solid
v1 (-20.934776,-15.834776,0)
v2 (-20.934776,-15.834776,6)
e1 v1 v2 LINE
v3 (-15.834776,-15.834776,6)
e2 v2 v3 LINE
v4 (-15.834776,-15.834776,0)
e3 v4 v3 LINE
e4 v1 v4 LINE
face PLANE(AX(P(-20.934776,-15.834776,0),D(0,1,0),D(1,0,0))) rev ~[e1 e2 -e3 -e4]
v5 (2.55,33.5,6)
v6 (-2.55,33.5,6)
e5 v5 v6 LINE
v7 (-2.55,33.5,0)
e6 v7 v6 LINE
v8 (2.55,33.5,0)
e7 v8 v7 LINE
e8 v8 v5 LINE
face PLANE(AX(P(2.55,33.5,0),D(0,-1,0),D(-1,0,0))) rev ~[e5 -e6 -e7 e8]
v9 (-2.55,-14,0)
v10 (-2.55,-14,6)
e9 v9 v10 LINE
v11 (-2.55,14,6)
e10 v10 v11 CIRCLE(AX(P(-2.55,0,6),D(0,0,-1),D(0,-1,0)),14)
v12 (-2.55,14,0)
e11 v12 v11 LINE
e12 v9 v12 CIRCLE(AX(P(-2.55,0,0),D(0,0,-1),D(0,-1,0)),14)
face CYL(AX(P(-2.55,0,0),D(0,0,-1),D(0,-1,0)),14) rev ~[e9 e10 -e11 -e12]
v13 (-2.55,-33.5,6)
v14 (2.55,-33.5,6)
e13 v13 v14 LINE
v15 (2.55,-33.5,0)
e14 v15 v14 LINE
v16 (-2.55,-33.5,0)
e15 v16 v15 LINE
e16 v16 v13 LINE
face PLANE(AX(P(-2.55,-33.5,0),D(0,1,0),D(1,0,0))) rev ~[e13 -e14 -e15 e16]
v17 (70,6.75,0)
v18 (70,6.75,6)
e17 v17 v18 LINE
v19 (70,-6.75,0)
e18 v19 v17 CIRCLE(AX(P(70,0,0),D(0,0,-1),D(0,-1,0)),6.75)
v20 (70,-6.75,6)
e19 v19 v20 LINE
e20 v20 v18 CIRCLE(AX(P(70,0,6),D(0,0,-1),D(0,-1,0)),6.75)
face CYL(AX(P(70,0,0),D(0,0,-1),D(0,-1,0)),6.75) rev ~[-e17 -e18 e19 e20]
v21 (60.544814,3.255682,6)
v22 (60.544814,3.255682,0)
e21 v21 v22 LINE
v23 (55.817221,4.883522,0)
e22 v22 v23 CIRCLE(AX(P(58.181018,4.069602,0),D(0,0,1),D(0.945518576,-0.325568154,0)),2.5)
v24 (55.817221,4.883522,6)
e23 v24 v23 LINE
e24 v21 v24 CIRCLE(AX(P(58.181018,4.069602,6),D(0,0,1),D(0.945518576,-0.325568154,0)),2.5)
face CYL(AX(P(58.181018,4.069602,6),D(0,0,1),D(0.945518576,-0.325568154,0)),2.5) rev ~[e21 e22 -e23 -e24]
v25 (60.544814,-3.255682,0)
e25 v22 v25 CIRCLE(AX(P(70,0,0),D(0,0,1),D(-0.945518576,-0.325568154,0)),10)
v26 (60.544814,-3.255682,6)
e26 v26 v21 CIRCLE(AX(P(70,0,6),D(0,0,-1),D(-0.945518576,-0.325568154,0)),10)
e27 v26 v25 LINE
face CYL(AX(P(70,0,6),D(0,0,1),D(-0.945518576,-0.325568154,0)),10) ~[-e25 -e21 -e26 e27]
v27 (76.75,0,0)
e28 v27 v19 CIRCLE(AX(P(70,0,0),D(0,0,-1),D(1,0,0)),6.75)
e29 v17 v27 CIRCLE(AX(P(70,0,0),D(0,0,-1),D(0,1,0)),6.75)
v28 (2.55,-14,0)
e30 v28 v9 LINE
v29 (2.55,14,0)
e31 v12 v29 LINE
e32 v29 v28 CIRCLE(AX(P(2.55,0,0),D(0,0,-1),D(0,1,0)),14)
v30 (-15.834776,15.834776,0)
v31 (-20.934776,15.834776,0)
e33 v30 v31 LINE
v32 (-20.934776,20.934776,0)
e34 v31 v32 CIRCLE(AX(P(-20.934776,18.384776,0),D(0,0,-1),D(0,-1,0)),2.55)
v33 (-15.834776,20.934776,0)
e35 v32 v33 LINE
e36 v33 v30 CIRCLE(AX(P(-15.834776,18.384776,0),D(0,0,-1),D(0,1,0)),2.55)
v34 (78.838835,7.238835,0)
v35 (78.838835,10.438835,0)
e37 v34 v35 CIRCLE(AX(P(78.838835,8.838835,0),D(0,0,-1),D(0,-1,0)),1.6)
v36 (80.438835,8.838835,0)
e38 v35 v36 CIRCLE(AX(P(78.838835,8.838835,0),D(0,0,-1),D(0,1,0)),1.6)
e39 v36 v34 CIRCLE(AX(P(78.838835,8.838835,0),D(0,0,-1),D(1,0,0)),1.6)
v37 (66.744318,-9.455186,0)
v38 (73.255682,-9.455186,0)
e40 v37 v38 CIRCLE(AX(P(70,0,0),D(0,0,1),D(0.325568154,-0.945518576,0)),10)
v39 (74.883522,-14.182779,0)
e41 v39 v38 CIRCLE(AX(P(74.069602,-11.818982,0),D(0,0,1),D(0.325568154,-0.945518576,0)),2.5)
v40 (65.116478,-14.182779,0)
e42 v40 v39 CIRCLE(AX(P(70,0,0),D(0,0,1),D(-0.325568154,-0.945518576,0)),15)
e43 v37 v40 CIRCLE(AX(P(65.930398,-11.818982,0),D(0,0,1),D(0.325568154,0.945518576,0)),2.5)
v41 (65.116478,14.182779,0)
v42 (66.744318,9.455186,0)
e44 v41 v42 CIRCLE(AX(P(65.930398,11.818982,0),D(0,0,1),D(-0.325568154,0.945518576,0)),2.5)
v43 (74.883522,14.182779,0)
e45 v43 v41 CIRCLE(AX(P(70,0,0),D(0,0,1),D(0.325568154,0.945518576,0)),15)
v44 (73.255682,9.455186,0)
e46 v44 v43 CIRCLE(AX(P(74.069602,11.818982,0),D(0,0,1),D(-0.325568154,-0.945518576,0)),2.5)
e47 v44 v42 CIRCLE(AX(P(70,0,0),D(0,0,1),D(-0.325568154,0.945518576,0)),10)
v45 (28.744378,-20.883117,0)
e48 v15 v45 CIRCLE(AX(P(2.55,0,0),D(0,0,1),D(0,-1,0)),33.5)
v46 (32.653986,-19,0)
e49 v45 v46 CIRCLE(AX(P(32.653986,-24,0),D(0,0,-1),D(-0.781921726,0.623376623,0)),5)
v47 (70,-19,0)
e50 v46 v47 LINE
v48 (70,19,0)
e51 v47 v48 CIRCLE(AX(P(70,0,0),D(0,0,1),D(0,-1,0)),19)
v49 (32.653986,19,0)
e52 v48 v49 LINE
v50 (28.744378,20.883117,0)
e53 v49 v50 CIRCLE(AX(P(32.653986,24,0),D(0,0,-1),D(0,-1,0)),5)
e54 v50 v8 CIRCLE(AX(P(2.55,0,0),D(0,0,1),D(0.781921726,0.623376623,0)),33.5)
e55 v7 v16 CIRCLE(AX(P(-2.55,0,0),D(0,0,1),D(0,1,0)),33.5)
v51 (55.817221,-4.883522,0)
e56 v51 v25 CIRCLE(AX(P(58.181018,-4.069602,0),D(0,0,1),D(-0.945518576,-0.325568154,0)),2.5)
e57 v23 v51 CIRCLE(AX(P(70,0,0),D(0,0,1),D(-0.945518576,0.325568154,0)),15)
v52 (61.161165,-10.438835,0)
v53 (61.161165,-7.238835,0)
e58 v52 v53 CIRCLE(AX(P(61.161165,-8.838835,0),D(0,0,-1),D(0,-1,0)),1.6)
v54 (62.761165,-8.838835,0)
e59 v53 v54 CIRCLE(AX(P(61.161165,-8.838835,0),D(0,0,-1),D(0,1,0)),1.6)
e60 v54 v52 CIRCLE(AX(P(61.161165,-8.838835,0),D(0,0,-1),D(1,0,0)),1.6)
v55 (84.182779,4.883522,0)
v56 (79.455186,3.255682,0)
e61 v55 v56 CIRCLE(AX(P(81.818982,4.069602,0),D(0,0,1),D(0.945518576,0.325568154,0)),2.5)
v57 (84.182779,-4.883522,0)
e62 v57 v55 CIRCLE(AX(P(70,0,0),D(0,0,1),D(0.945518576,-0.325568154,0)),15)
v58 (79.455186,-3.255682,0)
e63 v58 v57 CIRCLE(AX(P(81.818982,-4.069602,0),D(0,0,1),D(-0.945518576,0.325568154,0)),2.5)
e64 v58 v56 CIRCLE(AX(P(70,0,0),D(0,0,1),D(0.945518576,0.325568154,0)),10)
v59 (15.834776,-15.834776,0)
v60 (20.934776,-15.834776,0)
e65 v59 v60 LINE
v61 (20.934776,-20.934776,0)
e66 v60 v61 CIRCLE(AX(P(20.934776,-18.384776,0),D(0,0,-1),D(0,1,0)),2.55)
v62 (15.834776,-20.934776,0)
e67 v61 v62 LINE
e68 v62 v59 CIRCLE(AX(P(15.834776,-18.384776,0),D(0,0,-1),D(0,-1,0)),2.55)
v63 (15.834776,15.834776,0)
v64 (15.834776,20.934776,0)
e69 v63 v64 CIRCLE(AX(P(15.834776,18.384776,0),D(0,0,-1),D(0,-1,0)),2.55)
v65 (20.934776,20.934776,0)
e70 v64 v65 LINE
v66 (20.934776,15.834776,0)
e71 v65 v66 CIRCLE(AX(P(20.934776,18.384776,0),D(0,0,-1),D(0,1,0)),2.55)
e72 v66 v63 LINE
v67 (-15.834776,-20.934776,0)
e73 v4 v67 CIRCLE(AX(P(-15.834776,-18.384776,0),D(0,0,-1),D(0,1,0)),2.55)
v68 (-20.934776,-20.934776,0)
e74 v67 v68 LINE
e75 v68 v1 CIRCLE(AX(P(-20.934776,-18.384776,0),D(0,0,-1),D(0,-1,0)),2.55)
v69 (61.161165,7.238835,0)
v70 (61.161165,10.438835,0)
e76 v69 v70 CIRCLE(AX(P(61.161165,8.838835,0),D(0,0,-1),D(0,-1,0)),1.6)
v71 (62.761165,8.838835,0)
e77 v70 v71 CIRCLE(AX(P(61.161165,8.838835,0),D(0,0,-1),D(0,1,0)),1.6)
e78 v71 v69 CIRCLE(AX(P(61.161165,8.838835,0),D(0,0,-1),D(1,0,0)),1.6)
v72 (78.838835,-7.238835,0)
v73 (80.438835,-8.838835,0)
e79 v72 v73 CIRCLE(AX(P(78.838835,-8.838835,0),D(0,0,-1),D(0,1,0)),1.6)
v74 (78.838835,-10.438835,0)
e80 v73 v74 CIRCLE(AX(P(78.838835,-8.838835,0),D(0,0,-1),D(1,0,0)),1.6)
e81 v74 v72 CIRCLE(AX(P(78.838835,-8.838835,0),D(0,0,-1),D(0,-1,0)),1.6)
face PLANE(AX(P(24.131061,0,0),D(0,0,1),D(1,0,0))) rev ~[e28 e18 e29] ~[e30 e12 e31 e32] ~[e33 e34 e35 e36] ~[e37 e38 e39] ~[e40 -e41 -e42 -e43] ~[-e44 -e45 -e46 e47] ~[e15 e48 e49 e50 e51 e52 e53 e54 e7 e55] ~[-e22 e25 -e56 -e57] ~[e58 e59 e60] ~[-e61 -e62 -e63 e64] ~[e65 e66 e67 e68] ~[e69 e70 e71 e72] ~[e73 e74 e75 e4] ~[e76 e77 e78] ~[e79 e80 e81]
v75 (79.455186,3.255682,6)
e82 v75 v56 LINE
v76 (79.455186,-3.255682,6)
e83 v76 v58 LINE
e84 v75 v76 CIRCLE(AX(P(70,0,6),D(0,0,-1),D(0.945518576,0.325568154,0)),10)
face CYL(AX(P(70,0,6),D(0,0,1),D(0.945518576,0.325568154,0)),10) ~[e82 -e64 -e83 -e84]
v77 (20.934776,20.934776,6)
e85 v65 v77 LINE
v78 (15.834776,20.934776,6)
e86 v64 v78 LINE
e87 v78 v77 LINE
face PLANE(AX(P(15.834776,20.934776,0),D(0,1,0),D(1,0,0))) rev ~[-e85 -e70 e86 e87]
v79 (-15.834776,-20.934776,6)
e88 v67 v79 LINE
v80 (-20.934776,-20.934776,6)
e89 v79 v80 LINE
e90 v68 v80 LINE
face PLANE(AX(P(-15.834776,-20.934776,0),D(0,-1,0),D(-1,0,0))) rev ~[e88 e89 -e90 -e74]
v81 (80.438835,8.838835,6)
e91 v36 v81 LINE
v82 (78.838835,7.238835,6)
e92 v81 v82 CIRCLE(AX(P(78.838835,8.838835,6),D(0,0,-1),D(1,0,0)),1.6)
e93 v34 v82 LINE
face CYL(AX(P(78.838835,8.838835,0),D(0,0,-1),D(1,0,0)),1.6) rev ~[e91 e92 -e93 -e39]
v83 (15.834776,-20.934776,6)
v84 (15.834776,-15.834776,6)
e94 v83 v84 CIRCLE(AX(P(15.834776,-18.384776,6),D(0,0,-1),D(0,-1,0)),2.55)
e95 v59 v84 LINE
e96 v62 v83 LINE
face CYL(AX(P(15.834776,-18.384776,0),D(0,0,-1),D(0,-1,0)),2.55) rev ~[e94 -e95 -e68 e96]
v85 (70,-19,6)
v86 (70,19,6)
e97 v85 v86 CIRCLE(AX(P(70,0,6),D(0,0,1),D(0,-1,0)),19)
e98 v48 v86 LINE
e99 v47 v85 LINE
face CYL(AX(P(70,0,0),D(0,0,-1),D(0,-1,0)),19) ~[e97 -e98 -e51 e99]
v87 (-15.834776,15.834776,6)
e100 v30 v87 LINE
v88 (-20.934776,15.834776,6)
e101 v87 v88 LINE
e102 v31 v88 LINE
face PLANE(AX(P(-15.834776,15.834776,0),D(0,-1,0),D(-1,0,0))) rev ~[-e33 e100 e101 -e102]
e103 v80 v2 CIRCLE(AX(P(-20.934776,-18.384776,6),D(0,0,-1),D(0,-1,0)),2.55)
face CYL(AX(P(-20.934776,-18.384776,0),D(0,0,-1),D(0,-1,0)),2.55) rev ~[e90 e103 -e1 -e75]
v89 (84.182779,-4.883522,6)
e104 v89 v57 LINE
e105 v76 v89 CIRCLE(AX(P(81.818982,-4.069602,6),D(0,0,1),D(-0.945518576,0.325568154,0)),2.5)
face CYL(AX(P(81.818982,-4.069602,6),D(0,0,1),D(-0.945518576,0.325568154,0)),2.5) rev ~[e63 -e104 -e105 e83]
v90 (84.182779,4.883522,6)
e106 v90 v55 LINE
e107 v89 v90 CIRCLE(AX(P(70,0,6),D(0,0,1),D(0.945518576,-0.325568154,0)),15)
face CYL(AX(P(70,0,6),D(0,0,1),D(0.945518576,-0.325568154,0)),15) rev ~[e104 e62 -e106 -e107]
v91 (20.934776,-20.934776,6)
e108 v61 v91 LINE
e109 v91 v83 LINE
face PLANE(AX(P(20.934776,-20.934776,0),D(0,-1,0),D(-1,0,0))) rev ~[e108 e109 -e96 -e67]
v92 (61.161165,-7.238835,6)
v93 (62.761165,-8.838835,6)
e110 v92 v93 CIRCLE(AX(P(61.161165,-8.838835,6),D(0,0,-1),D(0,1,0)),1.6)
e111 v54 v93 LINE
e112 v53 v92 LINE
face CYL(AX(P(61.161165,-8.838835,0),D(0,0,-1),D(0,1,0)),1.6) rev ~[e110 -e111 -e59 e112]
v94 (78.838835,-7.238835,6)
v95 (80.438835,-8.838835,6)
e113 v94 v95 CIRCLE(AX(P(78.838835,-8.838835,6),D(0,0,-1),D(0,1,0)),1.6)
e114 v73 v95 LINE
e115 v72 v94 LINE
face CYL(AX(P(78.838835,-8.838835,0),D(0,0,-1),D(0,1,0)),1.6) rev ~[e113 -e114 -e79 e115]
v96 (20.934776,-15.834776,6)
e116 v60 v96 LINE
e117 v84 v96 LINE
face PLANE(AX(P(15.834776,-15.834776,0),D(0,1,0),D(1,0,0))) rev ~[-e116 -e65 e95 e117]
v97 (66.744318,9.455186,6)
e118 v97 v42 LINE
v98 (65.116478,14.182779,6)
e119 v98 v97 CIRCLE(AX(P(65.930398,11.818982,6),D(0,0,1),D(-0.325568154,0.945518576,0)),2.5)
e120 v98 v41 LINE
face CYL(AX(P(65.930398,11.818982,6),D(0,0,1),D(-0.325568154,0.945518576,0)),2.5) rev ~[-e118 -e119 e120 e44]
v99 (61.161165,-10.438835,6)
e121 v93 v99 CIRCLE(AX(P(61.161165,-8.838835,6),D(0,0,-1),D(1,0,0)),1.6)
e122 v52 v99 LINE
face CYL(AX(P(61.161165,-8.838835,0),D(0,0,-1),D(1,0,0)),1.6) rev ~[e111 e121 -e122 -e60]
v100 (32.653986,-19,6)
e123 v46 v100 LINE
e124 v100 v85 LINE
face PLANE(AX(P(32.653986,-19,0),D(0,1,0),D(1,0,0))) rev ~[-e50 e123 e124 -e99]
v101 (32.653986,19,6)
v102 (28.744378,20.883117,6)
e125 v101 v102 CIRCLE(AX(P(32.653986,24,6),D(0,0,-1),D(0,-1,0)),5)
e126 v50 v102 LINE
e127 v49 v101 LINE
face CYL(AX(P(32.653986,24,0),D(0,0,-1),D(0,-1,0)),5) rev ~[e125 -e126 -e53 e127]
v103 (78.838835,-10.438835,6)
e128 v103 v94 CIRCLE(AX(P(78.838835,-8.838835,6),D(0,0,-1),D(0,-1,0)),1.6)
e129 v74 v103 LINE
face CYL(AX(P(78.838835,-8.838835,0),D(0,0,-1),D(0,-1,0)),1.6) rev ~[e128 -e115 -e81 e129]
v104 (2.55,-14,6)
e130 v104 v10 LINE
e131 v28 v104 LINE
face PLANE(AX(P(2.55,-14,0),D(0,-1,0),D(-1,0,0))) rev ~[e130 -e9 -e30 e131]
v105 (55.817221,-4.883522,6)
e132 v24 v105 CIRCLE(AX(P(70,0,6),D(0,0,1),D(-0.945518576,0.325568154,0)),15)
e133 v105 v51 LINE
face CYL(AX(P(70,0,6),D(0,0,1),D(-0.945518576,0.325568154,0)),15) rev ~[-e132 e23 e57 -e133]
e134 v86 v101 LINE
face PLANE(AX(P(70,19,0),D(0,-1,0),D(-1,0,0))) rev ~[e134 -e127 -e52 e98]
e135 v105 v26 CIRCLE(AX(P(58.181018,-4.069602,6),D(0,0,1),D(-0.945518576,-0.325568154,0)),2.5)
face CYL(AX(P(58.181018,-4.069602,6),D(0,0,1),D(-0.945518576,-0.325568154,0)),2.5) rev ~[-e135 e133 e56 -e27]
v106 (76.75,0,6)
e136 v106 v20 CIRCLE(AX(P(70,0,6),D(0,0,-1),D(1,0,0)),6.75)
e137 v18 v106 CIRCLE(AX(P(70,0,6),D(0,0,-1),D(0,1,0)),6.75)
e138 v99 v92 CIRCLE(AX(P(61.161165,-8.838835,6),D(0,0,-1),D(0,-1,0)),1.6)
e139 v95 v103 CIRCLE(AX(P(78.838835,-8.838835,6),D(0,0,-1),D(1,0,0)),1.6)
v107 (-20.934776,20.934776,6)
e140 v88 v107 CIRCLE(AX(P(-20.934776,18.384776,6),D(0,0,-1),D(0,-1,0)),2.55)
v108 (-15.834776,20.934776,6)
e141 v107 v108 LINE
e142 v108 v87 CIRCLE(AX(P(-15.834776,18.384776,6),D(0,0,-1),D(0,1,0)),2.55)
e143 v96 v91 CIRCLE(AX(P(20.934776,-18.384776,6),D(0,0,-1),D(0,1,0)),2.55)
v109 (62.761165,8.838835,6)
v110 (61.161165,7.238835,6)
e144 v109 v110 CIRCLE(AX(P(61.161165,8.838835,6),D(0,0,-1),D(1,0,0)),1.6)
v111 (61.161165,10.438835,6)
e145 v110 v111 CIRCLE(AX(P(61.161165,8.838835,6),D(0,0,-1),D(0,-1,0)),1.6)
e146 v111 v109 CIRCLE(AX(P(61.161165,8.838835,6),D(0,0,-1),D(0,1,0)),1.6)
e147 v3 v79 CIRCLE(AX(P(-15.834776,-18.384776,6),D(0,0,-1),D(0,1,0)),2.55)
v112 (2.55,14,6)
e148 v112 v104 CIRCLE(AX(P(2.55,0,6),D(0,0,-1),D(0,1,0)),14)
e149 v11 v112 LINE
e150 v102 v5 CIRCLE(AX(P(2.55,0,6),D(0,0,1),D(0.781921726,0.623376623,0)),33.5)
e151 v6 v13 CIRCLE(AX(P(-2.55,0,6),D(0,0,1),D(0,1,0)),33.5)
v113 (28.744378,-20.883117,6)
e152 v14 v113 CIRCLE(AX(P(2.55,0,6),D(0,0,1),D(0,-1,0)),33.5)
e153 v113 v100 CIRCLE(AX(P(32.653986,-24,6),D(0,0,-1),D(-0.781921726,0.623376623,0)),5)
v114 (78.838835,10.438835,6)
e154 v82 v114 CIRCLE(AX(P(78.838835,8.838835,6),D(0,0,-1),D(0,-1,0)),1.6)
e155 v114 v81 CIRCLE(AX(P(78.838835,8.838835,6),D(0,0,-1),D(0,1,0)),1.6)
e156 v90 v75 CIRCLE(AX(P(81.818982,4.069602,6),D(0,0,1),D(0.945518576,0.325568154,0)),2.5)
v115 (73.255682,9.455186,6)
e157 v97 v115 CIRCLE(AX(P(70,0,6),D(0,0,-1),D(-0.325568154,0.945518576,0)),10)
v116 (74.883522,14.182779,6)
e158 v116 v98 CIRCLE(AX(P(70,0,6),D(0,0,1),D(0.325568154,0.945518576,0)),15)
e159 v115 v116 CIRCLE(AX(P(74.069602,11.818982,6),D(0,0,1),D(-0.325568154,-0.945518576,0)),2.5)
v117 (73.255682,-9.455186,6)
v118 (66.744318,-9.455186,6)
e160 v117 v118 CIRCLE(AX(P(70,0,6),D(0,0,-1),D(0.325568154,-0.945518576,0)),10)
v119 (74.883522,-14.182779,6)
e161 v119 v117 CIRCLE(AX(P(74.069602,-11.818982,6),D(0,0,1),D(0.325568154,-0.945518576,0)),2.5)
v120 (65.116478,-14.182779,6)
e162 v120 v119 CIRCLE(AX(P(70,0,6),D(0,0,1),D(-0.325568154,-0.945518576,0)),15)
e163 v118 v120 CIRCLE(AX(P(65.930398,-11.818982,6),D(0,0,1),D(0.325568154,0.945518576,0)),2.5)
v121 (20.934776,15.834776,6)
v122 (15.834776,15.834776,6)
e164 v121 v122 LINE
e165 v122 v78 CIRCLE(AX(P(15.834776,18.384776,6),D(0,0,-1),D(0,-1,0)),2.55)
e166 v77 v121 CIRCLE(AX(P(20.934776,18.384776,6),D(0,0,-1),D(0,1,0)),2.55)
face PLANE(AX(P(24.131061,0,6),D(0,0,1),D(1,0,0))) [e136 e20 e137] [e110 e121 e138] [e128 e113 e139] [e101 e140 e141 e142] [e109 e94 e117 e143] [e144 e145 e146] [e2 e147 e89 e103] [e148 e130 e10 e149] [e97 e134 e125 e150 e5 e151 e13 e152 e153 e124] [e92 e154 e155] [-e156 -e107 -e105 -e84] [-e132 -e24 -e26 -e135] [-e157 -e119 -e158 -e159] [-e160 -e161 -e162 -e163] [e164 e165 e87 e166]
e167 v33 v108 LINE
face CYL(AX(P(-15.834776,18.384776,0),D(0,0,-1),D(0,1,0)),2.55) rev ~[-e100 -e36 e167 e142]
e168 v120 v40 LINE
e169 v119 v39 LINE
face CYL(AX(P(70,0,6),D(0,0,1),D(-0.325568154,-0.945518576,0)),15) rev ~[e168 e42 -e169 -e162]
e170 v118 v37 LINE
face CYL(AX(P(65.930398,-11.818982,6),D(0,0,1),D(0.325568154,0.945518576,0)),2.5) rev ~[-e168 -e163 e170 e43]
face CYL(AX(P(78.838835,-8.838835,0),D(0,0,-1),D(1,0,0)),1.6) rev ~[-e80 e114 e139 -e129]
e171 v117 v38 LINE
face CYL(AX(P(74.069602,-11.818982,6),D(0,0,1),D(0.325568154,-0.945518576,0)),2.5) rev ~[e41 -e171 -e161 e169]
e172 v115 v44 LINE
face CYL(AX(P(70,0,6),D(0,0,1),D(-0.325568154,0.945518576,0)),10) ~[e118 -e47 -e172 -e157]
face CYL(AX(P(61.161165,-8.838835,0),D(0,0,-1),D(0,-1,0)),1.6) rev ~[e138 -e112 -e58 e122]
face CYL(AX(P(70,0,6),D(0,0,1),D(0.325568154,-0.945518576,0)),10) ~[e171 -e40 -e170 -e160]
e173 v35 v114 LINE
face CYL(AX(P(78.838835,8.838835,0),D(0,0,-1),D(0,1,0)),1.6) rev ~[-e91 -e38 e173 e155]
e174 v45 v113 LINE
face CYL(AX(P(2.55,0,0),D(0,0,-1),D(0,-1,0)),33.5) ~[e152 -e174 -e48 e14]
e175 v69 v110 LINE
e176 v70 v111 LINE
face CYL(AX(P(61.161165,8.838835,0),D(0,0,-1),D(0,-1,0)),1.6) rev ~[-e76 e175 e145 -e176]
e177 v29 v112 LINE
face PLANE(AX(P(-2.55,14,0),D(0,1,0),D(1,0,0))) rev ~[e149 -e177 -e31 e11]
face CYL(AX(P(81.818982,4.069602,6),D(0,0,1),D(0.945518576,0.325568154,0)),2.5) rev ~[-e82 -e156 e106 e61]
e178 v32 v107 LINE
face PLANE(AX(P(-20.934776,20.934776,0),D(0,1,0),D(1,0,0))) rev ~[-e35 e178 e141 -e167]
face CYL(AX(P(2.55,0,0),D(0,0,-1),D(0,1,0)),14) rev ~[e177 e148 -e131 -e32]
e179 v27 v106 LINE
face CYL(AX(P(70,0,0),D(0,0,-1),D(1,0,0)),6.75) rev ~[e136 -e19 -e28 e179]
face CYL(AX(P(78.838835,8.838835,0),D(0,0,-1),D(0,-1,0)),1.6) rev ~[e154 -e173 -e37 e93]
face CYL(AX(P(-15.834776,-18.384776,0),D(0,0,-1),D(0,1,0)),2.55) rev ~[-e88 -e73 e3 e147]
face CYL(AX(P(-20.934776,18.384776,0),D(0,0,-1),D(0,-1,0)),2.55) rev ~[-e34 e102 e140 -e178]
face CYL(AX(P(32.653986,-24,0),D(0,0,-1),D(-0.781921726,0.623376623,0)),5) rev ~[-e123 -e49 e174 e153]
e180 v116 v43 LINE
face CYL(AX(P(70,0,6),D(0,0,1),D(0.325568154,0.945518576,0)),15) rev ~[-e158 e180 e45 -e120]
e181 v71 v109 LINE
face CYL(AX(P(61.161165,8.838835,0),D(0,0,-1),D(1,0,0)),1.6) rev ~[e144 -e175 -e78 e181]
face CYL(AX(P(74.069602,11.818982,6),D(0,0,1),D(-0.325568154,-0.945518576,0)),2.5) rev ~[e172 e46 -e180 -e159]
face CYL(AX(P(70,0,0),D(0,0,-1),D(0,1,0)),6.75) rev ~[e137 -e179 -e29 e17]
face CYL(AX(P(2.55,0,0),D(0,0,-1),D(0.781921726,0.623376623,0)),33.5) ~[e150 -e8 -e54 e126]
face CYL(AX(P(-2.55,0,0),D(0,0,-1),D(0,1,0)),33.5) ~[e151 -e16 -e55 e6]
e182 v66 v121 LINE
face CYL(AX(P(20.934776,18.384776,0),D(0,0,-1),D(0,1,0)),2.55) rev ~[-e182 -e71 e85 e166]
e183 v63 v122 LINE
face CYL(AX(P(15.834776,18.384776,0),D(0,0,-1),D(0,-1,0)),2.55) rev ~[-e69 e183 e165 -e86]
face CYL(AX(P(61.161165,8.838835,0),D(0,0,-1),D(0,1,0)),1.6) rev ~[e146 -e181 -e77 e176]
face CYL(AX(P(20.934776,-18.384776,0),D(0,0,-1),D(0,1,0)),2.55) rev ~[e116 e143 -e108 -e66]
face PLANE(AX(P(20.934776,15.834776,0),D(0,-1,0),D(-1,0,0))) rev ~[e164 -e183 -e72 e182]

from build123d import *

# Parameters (mm, degrees)
F1_DEPTH = 6
F3_DEPTH = 25


with BuildPart() as f1:
    # F0 (on Top) → F1 (new body)
    with BuildSketch(Plane.XY):
        with BuildLine():
            Line((32.653986447, -19), (70, -19))
            ThreePointArc((70, -19), (89, 0), (70, 19))
            Line((70, 19), (32.653986447, 19))
            ThreePointArc((32.653986447, 19), (30.4842417137, 19.4953126865), (28.7443778175, 20.8831168831))
            ThreePointArc((28.7443778175, 20.8831168831), (17.0872897133, 30.1814050003), (2.55, 33.5))
            Line((2.55, 33.5), (-2.55, 33.5))
            ThreePointArc((-2.55, 33.5), (-36.05, 0), (-2.55, -33.5))
            Line((-2.55, -33.5), (2.55, -33.5))
            ThreePointArc((2.55, -33.5), (17.0872897133, -30.1814050003), (28.7443778175, -20.8831168831))
            ThreePointArc((28.7443778175, -20.8831168831), (30.4842417137, -19.4953126865), (32.653986447, -19))
        make_face()
        with BuildLine():
            Line((-15.8347763109, -20.9347763109), (-20.9347763109, -20.9347763109))
            ThreePointArc((-20.9347763109, -20.9347763109), (-23.4847763109, -18.3847763109), (-20.9347763109, -15.8347763109))
            Line((-20.9347763109, -15.8347763109), (-15.8347763109, -15.8347763109))
            ThreePointArc((-15.8347763109, -15.8347763109), (-13.2847763109, -18.3847763109), (-15.8347763109, -20.9347763109))
        make_face(mode=Mode.SUBTRACT)
        with BuildLine():
            Line((20.9347763109, -20.9347763109), (15.8347763109, -20.9347763109))
            ThreePointArc((15.8347763109, -20.9347763109), (13.2847763109, -18.3847763109), (15.8347763109, -15.8347763109))
            Line((15.8347763109, -15.8347763109), (20.9347763109, -15.8347763109))
            ThreePointArc((20.9347763109, -15.8347763109), (23.4847763109, -18.3847763109), (20.9347763109, -20.9347763109))
        make_face(mode=Mode.SUBTRACT)
        with BuildLine():
            ThreePointArc((61.1611652352, -7.2388347648), (62.2925360851, -7.7074639149), (62.7611652352, -8.8388347648))
            ThreePointArc((62.7611652352, -8.8388347648), (62.2925360851, -9.9702056147), (61.1611652352, -10.4388347648))
            ThreePointArc((61.1611652352, -10.4388347648), (59.5611652352, -8.8388347648), (61.1611652352, -7.2388347648))
        make_face(mode=Mode.SUBTRACT)
        with BuildLine():
            ThreePointArc((78.8388347648, -7.2388347648), (79.9702056147, -7.7074639149), (80.4388347648, -8.8388347648))
            ThreePointArc((80.4388347648, -8.8388347648), (79.9702056147, -9.9702056147), (78.8388347648, -10.4388347648))
            ThreePointArc((78.8388347648, -10.4388347648), (77.2388347648, -8.8388347648), (78.8388347648, -7.2388347648))
        make_face(mode=Mode.SUBTRACT)
        with BuildLine():
            Line((-2.55, 14), (2.55, 14))
            ThreePointArc((2.55, 14), (16.55, 0), (2.55, -14))
            Line((2.55, -14), (-2.55, -14))
            ThreePointArc((-2.55, -14), (-16.55, 0), (-2.55, 14))
        make_face(mode=Mode.SUBTRACT)
        with BuildLine():
            Line((-15.8347763109, 15.8347763109), (-20.9347763109, 15.8347763109))
            ThreePointArc((-20.9347763109, 15.8347763109), (-23.4847763109, 18.3847763109), (-20.9347763109, 20.9347763109))
            Line((-20.9347763109, 20.9347763109), (-15.8347763109, 20.9347763109))
            ThreePointArc((-15.8347763109, 20.9347763109), (-13.2847763109, 18.3847763109), (-15.8347763109, 15.8347763109))
        make_face(mode=Mode.SUBTRACT)
        with BuildLine():
            Line((20.9347763109, 15.8347763109), (15.8347763109, 15.8347763109))
            ThreePointArc((15.8347763109, 15.8347763109), (13.2847763109, 18.3847763109), (15.8347763109, 20.9347763109))
            Line((15.8347763109, 20.9347763109), (20.9347763109, 20.9347763109))
            ThreePointArc((20.9347763109, 20.9347763109), (23.4847763109, 18.3847763109), (20.9347763109, 15.8347763109))
        make_face(mode=Mode.SUBTRACT)
        with BuildLine():
            ThreePointArc((70, 6.75), (74.772970773, 4.772970773), (76.75, 0))
            ThreePointArc((76.75, 0), (74.772970773, -4.772970773), (70, -6.75))
            ThreePointArc((70, -6.75), (63.25, 0), (70, 6.75))
        make_face(mode=Mode.SUBTRACT)
        with BuildLine():
            ThreePointArc((61.1611652352, 10.4388347648), (62.2925360851, 9.9702056147), (62.7611652352, 8.8388347648))
            ThreePointArc((62.7611652352, 8.8388347648), (62.2925360851, 7.7074639149), (61.1611652352, 7.2388347648))
            ThreePointArc((61.1611652352, 7.2388347648), (59.5611652352, 8.8388347648), (61.1611652352, 10.4388347648))
        make_face(mode=Mode.SUBTRACT)
        with BuildLine():
            ThreePointArc((78.8388347648, 10.4388347648), (79.9702056147, 9.9702056147), (80.4388347648, 8.8388347648))
            ThreePointArc((80.4388347648, 8.8388347648), (79.9702056147, 7.7074639149), (78.8388347648, 7.2388347648))
            ThreePointArc((78.8388347648, 7.2388347648), (77.2388347648, 8.8388347648), (78.8388347648, 10.4388347648))
        make_face(mode=Mode.SUBTRACT)
    extrude(amount=F1_DEPTH)

    # F2 (on face) → F3 (cut)
    with BuildSketch(Plane.XY.offset(6)):
        with BuildLine():
            ThreePointArc((60.544814244, 3.2556815446), (58.9949381912, 6.4333983697), (55.817221366, 4.8835223169))
            ThreePointArc((55.817221366, 4.8835223169), (55, 0), (55.817221366, -4.8835223169))
            ThreePointArc((55.817221366, -4.8835223169), (58.9949381912, -6.4333983697), (60.544814244, -3.2556815446))
            ThreePointArc((60.544814244, -3.2556815446), (60, 0), (60.544814244, 3.2556815446))
        make_face()
        with BuildLine():
            ThreePointArc((66.7443184554, -9.455185756), (63.5666016303, -11.0050618088), (65.1164776831, -14.182778634))
            ThreePointArc((65.1164776831, -14.182778634), (70, -15), (74.8835223169, -14.182778634))
            ThreePointArc((74.8835223169, -14.182778634), (76.4333983697, -11.0050618088), (73.2556815446, -9.455185756))
            ThreePointArc((73.2556815446, -9.455185756), (70, -10), (66.7443184554, -9.455185756))
        make_face()
        with BuildLine():
            ThreePointArc((79.455185756, -3.2556815446), (81.0050618088, -6.4333983697), (84.182778634, -4.8835223169))
            ThreePointArc((84.182778634, -4.8835223169), (85, 0), (84.182778634, 4.8835223169))
            ThreePointArc((84.182778634, 4.8835223169), (81.0050618088, 6.4333983697), (79.455185756, 3.2556815446))
            ThreePointArc((79.455185756, 3.2556815446), (80, 0), (79.455185756, -3.2556815446))
        make_face()
        with BuildLine():
            ThreePointArc((73.2556815446, 9.455185756), (76.4333983697, 11.0050618088), (74.8835223169, 14.182778634))
            ThreePointArc((74.8835223169, 14.182778634), (70, 15), (65.1164776831, 14.182778634))
            ThreePointArc((65.1164776831, 14.182778634), (63.5666016303, 11.0050618088), (66.7443184554, 9.455185756))
            ThreePointArc((66.7443184554, 9.455185756), (70, 10), (73.2556815446, 9.455185756))
        make_face()
    extrude(amount=-F3_DEPTH, mode=Mode.SUBTRACT)


solid = f1.part
